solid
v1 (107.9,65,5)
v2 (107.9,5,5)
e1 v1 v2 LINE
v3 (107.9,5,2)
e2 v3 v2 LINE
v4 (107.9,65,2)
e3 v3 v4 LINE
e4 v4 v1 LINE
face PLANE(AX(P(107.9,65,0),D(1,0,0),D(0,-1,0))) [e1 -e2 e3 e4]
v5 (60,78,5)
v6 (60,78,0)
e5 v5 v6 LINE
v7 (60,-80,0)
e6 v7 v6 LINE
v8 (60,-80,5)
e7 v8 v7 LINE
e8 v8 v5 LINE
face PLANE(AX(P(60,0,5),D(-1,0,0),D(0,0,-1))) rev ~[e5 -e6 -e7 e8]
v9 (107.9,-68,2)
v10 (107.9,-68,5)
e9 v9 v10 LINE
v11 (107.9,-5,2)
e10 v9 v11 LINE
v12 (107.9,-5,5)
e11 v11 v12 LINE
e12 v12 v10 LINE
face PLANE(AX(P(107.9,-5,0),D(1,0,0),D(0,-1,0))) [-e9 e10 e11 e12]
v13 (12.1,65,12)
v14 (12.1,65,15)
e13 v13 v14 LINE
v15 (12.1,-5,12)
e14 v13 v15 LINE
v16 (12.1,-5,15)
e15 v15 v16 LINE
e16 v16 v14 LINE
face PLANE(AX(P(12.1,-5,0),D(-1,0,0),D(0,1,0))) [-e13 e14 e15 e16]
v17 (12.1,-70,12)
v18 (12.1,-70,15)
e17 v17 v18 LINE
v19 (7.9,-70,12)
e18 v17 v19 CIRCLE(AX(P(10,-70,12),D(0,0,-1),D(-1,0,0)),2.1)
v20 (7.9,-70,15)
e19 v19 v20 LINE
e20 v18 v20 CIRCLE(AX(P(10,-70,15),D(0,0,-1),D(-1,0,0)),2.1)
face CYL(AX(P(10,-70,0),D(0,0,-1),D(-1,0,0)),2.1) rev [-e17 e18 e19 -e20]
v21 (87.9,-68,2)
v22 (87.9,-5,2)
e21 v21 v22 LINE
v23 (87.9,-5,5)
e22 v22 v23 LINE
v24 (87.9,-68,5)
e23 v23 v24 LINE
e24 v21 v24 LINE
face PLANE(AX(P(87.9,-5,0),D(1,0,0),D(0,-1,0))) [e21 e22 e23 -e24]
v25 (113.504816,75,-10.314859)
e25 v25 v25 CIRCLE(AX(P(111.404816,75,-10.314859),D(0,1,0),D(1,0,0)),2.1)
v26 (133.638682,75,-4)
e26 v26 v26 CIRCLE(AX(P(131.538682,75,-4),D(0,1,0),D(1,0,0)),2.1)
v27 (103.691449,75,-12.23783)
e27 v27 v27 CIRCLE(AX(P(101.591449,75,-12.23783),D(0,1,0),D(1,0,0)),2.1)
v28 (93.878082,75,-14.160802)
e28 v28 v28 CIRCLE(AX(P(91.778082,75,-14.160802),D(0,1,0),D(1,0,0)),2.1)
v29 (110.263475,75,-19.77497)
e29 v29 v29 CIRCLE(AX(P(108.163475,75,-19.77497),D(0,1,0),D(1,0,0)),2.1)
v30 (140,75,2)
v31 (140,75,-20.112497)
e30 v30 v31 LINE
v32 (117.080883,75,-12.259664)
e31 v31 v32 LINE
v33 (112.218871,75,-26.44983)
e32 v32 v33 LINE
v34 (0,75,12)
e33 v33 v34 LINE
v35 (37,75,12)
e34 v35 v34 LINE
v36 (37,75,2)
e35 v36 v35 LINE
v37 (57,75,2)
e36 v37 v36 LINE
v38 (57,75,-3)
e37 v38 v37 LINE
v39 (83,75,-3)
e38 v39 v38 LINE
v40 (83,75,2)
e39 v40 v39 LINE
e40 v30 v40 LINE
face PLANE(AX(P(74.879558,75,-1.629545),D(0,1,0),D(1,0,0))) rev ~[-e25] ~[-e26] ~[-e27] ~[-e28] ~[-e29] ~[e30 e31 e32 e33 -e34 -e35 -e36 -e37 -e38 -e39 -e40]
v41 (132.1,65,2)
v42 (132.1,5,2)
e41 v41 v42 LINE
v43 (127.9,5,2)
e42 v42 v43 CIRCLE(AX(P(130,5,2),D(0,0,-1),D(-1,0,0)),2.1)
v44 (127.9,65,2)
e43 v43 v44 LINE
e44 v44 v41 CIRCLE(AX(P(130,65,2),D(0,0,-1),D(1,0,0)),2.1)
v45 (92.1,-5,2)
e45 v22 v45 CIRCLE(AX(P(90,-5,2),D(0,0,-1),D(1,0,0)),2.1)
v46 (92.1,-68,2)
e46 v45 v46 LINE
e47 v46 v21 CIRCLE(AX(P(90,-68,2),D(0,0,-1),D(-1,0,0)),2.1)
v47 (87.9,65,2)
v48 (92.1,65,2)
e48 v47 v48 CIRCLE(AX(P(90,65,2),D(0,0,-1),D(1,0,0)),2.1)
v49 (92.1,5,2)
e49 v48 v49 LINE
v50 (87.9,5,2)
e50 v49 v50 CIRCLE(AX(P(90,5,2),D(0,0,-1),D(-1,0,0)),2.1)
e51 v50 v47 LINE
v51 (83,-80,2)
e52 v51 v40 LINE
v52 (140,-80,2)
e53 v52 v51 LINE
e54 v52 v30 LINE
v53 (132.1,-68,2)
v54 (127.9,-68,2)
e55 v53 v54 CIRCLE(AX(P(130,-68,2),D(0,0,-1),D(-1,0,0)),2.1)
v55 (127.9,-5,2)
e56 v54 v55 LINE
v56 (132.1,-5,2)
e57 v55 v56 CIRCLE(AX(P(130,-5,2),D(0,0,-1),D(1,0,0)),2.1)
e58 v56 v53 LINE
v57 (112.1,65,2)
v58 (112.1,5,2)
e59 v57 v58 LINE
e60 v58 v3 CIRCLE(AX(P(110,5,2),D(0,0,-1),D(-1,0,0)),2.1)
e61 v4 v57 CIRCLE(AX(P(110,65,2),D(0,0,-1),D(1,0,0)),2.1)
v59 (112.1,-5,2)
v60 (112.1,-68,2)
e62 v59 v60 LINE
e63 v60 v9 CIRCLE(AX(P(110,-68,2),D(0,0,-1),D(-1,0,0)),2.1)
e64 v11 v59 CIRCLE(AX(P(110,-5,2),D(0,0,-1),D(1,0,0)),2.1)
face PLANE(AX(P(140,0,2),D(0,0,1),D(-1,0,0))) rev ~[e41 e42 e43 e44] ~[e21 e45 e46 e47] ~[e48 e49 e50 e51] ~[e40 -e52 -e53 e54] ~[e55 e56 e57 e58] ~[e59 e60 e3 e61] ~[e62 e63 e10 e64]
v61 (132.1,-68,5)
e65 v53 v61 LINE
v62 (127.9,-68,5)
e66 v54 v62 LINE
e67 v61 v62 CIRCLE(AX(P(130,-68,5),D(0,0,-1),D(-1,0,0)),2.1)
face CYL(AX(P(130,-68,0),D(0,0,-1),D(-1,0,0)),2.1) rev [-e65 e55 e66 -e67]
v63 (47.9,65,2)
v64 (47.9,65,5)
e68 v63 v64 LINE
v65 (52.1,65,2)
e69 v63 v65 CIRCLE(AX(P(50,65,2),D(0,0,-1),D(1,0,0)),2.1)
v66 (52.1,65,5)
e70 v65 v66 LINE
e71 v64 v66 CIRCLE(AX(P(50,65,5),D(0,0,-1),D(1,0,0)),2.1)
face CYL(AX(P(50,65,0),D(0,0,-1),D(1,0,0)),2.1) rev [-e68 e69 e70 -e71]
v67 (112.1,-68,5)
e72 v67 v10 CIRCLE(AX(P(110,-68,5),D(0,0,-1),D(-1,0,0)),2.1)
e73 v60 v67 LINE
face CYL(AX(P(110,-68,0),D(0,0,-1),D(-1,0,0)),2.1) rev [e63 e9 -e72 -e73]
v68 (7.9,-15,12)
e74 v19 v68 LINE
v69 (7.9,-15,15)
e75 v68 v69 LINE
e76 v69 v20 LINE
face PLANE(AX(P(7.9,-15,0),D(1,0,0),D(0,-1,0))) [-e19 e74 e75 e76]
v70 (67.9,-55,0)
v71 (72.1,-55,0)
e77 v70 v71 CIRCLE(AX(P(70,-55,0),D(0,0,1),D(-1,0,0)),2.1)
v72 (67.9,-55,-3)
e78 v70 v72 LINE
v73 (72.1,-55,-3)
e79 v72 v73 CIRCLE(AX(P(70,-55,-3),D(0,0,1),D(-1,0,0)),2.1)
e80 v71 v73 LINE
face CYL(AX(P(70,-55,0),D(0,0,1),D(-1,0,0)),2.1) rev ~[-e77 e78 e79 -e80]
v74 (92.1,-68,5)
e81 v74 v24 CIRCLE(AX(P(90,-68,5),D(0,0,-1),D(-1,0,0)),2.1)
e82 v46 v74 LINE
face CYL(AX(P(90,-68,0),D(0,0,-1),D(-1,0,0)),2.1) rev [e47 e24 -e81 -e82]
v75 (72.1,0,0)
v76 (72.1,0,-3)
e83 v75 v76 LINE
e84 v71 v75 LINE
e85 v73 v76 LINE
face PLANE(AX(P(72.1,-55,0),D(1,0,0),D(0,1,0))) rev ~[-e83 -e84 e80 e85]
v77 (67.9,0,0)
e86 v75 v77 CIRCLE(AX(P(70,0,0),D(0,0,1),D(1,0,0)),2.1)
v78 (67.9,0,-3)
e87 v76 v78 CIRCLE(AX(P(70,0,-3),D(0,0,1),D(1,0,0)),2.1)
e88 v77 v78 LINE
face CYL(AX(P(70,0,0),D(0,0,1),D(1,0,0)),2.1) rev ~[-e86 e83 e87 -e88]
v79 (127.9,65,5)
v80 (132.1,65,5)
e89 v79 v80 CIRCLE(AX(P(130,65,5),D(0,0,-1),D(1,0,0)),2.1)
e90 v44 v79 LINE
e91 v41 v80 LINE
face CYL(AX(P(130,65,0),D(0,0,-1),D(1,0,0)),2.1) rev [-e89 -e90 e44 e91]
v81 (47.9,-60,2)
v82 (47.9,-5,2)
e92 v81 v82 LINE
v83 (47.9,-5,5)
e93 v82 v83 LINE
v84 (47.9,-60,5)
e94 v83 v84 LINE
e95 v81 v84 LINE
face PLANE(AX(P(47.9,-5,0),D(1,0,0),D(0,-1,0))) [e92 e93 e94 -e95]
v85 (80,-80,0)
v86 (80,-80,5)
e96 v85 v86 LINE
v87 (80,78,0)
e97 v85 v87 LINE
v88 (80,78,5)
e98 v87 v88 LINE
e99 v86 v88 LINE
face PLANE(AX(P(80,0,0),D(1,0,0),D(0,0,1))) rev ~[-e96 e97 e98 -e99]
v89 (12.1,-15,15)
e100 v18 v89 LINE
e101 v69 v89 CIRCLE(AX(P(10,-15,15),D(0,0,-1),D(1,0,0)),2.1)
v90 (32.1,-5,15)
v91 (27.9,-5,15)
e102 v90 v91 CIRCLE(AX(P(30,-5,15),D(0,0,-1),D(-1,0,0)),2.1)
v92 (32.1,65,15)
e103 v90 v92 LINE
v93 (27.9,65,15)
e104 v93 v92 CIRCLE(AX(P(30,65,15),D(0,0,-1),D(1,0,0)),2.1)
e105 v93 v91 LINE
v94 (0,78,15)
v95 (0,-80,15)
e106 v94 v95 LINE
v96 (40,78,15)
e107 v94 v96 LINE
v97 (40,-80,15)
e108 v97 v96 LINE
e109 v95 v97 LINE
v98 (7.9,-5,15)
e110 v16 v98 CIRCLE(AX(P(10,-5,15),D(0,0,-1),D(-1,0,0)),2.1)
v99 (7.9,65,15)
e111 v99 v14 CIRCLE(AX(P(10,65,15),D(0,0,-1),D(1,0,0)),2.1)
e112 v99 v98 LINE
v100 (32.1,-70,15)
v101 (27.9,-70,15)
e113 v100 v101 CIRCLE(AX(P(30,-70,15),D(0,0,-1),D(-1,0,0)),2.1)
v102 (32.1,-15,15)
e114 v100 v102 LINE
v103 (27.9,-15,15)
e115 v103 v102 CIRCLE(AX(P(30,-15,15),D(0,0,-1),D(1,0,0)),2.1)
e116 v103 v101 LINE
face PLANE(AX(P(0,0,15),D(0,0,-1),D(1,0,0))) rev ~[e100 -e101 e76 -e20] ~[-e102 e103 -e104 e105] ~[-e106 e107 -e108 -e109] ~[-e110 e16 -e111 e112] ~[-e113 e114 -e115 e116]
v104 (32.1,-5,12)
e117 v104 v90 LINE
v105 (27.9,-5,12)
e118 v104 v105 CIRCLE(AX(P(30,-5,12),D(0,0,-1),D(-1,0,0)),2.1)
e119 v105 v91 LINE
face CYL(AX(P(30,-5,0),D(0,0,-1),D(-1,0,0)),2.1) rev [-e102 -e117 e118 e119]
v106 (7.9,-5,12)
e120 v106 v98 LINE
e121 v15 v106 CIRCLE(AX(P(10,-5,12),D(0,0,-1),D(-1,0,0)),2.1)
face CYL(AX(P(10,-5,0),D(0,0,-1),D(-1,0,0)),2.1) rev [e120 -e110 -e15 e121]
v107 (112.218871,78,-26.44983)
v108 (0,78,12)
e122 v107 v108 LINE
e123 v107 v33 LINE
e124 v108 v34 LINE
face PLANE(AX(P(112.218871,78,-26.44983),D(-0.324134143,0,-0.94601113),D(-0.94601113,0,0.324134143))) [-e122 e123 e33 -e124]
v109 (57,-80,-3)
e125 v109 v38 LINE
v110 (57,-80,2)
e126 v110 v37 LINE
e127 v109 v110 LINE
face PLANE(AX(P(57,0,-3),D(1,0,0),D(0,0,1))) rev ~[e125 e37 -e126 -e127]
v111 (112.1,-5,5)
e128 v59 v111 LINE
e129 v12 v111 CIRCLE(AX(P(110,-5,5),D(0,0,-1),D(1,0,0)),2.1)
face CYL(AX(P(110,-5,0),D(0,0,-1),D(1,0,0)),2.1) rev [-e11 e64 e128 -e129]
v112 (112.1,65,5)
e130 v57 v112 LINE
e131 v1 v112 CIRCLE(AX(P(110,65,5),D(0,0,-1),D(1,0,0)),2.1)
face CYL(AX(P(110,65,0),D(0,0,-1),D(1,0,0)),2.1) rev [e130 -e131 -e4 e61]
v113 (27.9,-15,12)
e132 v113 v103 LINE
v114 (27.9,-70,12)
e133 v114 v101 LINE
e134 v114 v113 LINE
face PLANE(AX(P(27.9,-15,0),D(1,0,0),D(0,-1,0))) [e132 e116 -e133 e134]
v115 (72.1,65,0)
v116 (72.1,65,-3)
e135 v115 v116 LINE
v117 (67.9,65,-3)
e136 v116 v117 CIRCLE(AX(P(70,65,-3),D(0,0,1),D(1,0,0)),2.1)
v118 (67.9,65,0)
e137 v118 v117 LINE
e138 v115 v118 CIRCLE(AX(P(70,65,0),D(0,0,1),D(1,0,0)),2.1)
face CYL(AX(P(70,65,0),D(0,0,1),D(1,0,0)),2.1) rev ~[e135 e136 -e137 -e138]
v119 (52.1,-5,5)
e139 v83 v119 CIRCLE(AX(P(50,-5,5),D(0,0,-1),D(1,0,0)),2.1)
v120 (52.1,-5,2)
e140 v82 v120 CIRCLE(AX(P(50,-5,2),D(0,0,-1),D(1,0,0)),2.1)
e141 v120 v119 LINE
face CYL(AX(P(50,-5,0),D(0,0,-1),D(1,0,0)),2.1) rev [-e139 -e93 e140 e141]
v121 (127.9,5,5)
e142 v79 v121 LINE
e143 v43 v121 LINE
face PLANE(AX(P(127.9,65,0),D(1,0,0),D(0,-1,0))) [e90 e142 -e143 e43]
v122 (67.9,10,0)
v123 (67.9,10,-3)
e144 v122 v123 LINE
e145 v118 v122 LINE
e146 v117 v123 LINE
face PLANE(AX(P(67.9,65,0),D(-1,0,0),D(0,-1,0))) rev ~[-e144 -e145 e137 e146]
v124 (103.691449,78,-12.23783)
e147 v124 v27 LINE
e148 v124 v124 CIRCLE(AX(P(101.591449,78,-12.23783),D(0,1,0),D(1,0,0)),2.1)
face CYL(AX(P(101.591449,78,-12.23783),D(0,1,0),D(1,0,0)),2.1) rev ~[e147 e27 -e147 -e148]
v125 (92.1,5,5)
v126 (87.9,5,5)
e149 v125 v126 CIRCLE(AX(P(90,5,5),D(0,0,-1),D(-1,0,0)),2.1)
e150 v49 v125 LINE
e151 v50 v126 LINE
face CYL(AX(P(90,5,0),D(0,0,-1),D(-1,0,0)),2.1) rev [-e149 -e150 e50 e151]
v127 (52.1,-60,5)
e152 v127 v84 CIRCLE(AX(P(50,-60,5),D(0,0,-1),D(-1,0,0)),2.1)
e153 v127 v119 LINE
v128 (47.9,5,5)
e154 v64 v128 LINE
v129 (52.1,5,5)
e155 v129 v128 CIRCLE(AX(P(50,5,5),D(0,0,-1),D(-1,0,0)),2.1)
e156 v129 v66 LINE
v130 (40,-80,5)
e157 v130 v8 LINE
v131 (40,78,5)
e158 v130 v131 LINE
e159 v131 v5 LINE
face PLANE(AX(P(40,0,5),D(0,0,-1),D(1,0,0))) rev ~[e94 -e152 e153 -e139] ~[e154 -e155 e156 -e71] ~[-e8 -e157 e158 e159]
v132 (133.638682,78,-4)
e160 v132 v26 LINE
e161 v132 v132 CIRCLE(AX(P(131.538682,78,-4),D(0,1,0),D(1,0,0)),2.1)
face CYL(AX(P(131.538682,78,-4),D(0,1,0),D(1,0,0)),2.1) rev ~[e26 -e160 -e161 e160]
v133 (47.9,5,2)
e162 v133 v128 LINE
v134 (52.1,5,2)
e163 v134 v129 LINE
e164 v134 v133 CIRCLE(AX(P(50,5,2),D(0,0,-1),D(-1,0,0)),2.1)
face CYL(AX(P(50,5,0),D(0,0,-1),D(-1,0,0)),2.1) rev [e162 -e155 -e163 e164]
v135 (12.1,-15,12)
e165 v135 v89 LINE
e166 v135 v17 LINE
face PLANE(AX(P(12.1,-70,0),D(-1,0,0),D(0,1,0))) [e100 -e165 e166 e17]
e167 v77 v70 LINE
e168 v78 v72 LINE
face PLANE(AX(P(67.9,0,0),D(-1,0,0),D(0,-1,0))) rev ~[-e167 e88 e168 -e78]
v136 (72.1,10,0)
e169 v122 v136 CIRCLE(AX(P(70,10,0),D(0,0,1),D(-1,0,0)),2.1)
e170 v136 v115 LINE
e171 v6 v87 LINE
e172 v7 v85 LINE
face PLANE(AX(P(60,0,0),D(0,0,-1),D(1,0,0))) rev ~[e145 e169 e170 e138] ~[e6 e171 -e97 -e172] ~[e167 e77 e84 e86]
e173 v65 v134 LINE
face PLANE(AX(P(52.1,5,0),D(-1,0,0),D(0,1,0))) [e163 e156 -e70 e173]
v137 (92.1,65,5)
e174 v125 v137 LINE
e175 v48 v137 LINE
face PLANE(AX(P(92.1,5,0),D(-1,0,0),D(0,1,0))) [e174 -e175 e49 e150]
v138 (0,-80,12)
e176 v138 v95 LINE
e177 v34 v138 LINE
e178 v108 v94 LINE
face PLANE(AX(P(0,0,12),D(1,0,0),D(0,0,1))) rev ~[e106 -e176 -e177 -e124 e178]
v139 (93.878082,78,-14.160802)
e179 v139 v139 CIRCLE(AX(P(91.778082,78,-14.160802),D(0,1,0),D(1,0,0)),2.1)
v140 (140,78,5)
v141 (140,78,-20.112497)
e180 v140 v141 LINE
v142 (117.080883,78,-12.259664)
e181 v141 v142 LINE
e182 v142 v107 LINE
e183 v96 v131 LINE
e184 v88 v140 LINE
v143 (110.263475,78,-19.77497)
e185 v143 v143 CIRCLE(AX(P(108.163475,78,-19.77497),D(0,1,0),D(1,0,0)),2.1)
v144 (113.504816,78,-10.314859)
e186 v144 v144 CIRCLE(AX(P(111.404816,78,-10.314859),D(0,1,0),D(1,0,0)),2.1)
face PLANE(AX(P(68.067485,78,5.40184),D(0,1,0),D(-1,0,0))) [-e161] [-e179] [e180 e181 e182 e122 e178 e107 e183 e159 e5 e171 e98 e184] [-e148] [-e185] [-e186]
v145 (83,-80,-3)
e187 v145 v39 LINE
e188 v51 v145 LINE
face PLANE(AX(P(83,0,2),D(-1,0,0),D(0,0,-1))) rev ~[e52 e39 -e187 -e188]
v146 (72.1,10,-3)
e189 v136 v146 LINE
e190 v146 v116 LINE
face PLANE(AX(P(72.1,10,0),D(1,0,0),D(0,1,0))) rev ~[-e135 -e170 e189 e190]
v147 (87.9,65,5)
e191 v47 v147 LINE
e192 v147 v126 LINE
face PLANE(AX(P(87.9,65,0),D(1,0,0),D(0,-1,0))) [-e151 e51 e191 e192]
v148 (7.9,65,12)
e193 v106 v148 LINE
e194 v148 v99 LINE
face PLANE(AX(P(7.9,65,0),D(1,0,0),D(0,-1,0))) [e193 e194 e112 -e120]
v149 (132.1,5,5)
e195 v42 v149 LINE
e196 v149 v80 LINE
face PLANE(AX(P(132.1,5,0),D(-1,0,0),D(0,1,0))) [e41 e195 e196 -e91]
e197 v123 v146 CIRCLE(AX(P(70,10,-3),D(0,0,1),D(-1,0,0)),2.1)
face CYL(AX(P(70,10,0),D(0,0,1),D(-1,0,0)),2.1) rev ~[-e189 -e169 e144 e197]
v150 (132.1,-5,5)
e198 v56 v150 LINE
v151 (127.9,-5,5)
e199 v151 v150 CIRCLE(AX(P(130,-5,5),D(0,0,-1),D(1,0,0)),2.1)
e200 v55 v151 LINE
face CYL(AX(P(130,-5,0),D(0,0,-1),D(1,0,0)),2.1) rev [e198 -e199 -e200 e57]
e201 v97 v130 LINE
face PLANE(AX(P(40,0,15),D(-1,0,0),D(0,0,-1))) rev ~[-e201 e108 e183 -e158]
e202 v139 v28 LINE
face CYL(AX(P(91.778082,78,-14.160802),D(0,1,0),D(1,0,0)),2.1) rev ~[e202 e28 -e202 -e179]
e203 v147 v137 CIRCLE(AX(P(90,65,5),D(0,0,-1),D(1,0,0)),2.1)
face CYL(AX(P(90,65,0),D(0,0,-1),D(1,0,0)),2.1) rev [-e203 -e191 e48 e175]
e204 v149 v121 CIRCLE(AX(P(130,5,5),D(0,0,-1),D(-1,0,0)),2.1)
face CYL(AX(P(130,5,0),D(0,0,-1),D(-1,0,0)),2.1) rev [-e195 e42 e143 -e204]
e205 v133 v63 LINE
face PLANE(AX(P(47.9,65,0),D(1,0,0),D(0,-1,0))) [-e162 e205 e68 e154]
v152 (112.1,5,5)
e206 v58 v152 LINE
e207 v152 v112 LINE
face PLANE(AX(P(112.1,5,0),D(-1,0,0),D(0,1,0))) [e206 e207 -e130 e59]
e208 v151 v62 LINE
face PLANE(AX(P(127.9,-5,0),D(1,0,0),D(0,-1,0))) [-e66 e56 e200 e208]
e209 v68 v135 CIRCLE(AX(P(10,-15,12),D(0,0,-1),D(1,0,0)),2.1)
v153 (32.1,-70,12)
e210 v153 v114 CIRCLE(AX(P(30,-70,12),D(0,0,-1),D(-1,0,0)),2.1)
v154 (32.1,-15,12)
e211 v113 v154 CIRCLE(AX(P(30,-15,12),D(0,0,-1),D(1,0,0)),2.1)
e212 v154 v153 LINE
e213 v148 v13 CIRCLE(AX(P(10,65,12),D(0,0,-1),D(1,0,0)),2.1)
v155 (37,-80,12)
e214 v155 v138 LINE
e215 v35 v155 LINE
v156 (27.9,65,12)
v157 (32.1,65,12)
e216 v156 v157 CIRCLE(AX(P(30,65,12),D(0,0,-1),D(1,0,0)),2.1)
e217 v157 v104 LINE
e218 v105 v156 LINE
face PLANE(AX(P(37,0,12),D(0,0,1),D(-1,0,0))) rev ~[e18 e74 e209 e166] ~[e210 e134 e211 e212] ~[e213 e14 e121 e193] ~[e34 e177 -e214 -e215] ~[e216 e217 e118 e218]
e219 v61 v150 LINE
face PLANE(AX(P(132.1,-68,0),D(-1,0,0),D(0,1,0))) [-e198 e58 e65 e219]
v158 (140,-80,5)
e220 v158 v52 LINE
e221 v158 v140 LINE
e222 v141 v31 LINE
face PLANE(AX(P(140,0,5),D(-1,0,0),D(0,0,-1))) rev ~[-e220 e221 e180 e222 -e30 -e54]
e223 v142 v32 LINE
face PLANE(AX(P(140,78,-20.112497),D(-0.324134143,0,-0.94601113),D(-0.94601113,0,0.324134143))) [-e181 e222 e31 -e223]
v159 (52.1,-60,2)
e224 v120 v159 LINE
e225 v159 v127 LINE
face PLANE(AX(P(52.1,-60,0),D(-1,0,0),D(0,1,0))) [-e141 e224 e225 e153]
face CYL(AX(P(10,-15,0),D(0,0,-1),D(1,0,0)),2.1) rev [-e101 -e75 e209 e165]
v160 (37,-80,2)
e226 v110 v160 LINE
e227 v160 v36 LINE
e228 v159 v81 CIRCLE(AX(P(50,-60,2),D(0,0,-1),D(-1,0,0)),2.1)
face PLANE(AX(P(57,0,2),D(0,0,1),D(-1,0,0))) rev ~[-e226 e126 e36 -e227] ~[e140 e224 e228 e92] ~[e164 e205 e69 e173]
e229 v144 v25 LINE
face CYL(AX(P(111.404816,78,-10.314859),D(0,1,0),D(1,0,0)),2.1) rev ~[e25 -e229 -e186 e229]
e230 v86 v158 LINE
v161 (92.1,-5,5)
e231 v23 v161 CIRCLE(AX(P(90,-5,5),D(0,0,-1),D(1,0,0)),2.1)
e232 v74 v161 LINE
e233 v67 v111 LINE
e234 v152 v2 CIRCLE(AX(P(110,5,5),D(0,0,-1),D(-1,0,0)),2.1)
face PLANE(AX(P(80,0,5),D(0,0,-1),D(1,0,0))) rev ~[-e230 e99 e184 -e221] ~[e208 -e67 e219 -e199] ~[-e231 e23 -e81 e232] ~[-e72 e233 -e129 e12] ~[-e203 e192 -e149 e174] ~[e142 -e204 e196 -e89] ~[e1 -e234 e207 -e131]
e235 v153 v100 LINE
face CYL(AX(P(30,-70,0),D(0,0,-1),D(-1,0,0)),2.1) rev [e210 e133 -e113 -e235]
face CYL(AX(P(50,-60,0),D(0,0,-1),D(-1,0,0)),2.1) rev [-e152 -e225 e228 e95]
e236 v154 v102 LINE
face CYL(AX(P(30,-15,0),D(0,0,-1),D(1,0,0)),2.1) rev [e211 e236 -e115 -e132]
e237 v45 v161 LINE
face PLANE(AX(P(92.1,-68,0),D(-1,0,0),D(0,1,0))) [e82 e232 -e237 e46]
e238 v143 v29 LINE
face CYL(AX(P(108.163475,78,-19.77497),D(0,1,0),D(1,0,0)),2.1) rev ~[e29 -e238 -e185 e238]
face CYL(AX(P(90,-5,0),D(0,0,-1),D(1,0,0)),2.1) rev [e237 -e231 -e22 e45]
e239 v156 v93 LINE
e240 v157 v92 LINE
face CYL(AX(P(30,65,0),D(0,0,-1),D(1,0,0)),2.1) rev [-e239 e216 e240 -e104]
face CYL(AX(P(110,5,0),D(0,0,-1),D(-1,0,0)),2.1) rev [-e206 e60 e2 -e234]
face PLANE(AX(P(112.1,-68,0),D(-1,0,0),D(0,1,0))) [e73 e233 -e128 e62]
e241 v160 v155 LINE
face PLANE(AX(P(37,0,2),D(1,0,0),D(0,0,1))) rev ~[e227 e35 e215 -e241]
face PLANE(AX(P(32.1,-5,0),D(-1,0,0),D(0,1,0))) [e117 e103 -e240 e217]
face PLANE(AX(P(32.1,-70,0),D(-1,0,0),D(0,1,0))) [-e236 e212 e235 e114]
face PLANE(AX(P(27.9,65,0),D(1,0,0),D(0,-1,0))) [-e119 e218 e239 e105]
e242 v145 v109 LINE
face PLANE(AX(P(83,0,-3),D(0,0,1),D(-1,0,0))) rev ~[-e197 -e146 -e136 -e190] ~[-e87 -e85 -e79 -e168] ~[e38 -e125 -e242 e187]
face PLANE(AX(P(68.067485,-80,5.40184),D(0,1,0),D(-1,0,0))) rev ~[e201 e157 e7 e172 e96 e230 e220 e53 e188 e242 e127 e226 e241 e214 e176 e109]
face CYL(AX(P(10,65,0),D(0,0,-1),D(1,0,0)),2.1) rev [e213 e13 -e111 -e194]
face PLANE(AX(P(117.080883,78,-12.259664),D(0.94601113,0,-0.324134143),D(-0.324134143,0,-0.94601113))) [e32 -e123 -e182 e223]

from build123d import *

# Parameters (mm, degrees)
PAD024_DEPTH         = 80
PAD024_DEPTH_BACK    = 78
SKETCH039_R          = 2.1
PAD025_DEPTH         = 3
POCKET015_DEPTH      = 26.4508304953
POCKET015_DEPTH_BACK = 15.001


with BuildPart() as part:
    # Sketch038 → Pad024 (new body, two sides)
    with BuildSketch(Plane.XZ) as pad024_sk:
        Polygon((0, 15), (40, 15), (40, 5), (60, 5), (60, 0), (80, 0), (80, 5), (140, 5), (140, 2), (83, 2), (83, -3), (57, -3), (57, 2), (37, 2), (37, 12), (0, 12), align=None)
    extrude(amount=PAD024_DEPTH)
    extrude(pad024_sk.sketch, amount=-PAD024_DEPTH_BACK)

    # Sketch039 (on Face17 of Pad024) → Pad025 (join)
    with BuildSketch(Plane(origin=(0, 78, 0), x_dir=(1, 0, 0), z_dir=(0, 1, 0))):
        Polygon((140, -5), (140, 20.112497453), (117.0808832189, 12.2596635501), (112.2188710769, 26.4498304953), (0, -12), (0, -15), (40, -15), (40, -5), (60, -5), (60, 0), (80, 0), (80, -5), align=None)
        with Locations((131.5386824304, 4)):
            Circle(SKETCH039_R, mode=Mode.SUBTRACT)
        with Locations((111.4048164409, 10.3148586933)):
            Circle(SKETCH039_R, mode=Mode.SUBTRACT)
        with Locations((108.1634750128, 19.7749699901)):
            Circle(SKETCH039_R, mode=Mode.SUBTRACT)
        with Locations((91.7780816016, 14.1608019521)):
            Circle(SKETCH039_R, mode=Mode.SUBTRACT)
        with Locations((101.5914490212, 12.2378303227)):
            Circle(SKETCH039_R, mode=Mode.SUBTRACT)
    extrude(amount=-PAD025_DEPTH)

    # Sketch048 → Pocket015 (cut, two sides)
    with BuildSketch(Plane.XY) as pocket015_sk:
        with BuildLine():
            ThreePointArc((7.9, -5), (10, -7.1), (12.1, -5))
            Line((12.1, -5), (12.1, 65))
            ThreePointArc((12.1, 65), (10, 67.1), (7.9, 65))
            Line((7.9, 65), (7.9, -5))
        make_face()
        with BuildLine():
            ThreePointArc((12.1, -15), (10, -12.9), (7.9, -15))
            Line((7.9, -15), (7.9, -70))
            ThreePointArc((7.9, -70), (10, -72.1), (12.1, -70))
            Line((12.1, -70), (12.1, -15))
        make_face()
        with BuildLine():
            ThreePointArc((27.9, -70), (30, -72.1), (32.1, -70))
            Line((32.1, -70), (32.1, -15))
            ThreePointArc((32.1, -15), (30, -12.9), (27.9, -15))
            Line((27.9, -15), (27.9, -70))
        make_face()
        with BuildLine():
            ThreePointArc((52.1, -5), (50, -2.9), (47.9, -5))
            Line((47.9, -5), (47.9, -60))
            ThreePointArc((47.9, -60), (50, -62.1), (52.1, -60))
            Line((52.1, -60), (52.1, -5))
        make_face()
        with BuildLine():
            ThreePointArc((67.9, -55), (70, -57.1), (72.1, -55))
            Line((72.1, -55), (72.1, 0))
            ThreePointArc((72.1, 0), (70, 2.1), (67.9, 0))
            Line((67.9, 0), (67.9, -55))
        make_face()
        with BuildLine():
            ThreePointArc((87.9, -68), (90, -70.1), (92.1, -68))
            Line((92.1, -68), (92.1, -5))
            ThreePointArc((92.1, -5), (90, -2.9), (87.9, -5))
            Line((87.9, -5), (87.9, -68))
        make_face()
        with BuildLine():
            ThreePointArc((112.1, -5), (110, -2.9), (107.9, -5))
            Line((107.9, -5), (107.9, -68))
            ThreePointArc((107.9, -68), (110, -70.1), (112.1, -68))
            Line((112.1, -68), (112.1, -5))
        make_face()
        with BuildLine():
            ThreePointArc((127.9, -68), (130, -70.1), (132.1, -68))
            Line((132.1, -68), (132.1, -5))
            ThreePointArc((132.1, -5), (130, -2.9), (127.9, -5))
            Line((127.9, -5), (127.9, -68))
        make_face()
        with BuildLine():
            ThreePointArc((127.9, 5), (130, 2.9), (132.1, 5))
            Line((132.1, 5), (132.1, 65))
            ThreePointArc((132.1, 65), (130, 67.1), (127.9, 65))
            Line((127.9, 65), (127.9, 5))
        make_face()
        with BuildLine():
            ThreePointArc((112.1, 65), (110, 67.1), (107.9, 65))
            Line((107.9, 65), (107.9, 5))
            ThreePointArc((107.9, 5), (110, 2.9), (112.1, 5))
            Line((112.1, 5), (112.1, 65))
        make_face()
        with BuildLine():
            ThreePointArc((87.9, 5), (90, 2.9), (92.1, 5))
            Line((92.1, 5), (92.1, 65))
            ThreePointArc((92.1, 65), (90, 67.1), (87.9, 65))
            Line((87.9, 65), (87.9, 5))
        make_face()
        with BuildLine():
            ThreePointArc((67.9, 10), (70, 7.9), (72.1, 10))
            Line((72.1, 10), (72.1, 65))
            ThreePointArc((72.1, 65), (70, 67.1), (67.9, 65))
            Line((67.9, 65), (67.9, 10))
        make_face()
        with BuildLine():
            ThreePointArc((47.9, 5), (50, 2.9), (52.1, 5))
            Line((52.1, 5), (52.1, 65))
            ThreePointArc((52.1, 65), (50, 67.1), (47.9, 65))
            Line((47.9, 65), (47.9, 5))
        make_face()
        with BuildLine():
            ThreePointArc((27.9, -5), (30, -7.1), (32.1, -5))
            Line((32.1, -5), (32.1, 65))
            ThreePointArc((32.1, 65), (30, 67.1), (27.9, 65))
            Line((27.9, 65), (27.9, -5))
        make_face()
    extrude(amount=-POCKET015_DEPTH, mode=Mode.SUBTRACT)
    extrude(pocket015_sk.sketch, amount=POCKET015_DEPTH_BACK, mode=Mode.SUBTRACT)


solid = part.part
